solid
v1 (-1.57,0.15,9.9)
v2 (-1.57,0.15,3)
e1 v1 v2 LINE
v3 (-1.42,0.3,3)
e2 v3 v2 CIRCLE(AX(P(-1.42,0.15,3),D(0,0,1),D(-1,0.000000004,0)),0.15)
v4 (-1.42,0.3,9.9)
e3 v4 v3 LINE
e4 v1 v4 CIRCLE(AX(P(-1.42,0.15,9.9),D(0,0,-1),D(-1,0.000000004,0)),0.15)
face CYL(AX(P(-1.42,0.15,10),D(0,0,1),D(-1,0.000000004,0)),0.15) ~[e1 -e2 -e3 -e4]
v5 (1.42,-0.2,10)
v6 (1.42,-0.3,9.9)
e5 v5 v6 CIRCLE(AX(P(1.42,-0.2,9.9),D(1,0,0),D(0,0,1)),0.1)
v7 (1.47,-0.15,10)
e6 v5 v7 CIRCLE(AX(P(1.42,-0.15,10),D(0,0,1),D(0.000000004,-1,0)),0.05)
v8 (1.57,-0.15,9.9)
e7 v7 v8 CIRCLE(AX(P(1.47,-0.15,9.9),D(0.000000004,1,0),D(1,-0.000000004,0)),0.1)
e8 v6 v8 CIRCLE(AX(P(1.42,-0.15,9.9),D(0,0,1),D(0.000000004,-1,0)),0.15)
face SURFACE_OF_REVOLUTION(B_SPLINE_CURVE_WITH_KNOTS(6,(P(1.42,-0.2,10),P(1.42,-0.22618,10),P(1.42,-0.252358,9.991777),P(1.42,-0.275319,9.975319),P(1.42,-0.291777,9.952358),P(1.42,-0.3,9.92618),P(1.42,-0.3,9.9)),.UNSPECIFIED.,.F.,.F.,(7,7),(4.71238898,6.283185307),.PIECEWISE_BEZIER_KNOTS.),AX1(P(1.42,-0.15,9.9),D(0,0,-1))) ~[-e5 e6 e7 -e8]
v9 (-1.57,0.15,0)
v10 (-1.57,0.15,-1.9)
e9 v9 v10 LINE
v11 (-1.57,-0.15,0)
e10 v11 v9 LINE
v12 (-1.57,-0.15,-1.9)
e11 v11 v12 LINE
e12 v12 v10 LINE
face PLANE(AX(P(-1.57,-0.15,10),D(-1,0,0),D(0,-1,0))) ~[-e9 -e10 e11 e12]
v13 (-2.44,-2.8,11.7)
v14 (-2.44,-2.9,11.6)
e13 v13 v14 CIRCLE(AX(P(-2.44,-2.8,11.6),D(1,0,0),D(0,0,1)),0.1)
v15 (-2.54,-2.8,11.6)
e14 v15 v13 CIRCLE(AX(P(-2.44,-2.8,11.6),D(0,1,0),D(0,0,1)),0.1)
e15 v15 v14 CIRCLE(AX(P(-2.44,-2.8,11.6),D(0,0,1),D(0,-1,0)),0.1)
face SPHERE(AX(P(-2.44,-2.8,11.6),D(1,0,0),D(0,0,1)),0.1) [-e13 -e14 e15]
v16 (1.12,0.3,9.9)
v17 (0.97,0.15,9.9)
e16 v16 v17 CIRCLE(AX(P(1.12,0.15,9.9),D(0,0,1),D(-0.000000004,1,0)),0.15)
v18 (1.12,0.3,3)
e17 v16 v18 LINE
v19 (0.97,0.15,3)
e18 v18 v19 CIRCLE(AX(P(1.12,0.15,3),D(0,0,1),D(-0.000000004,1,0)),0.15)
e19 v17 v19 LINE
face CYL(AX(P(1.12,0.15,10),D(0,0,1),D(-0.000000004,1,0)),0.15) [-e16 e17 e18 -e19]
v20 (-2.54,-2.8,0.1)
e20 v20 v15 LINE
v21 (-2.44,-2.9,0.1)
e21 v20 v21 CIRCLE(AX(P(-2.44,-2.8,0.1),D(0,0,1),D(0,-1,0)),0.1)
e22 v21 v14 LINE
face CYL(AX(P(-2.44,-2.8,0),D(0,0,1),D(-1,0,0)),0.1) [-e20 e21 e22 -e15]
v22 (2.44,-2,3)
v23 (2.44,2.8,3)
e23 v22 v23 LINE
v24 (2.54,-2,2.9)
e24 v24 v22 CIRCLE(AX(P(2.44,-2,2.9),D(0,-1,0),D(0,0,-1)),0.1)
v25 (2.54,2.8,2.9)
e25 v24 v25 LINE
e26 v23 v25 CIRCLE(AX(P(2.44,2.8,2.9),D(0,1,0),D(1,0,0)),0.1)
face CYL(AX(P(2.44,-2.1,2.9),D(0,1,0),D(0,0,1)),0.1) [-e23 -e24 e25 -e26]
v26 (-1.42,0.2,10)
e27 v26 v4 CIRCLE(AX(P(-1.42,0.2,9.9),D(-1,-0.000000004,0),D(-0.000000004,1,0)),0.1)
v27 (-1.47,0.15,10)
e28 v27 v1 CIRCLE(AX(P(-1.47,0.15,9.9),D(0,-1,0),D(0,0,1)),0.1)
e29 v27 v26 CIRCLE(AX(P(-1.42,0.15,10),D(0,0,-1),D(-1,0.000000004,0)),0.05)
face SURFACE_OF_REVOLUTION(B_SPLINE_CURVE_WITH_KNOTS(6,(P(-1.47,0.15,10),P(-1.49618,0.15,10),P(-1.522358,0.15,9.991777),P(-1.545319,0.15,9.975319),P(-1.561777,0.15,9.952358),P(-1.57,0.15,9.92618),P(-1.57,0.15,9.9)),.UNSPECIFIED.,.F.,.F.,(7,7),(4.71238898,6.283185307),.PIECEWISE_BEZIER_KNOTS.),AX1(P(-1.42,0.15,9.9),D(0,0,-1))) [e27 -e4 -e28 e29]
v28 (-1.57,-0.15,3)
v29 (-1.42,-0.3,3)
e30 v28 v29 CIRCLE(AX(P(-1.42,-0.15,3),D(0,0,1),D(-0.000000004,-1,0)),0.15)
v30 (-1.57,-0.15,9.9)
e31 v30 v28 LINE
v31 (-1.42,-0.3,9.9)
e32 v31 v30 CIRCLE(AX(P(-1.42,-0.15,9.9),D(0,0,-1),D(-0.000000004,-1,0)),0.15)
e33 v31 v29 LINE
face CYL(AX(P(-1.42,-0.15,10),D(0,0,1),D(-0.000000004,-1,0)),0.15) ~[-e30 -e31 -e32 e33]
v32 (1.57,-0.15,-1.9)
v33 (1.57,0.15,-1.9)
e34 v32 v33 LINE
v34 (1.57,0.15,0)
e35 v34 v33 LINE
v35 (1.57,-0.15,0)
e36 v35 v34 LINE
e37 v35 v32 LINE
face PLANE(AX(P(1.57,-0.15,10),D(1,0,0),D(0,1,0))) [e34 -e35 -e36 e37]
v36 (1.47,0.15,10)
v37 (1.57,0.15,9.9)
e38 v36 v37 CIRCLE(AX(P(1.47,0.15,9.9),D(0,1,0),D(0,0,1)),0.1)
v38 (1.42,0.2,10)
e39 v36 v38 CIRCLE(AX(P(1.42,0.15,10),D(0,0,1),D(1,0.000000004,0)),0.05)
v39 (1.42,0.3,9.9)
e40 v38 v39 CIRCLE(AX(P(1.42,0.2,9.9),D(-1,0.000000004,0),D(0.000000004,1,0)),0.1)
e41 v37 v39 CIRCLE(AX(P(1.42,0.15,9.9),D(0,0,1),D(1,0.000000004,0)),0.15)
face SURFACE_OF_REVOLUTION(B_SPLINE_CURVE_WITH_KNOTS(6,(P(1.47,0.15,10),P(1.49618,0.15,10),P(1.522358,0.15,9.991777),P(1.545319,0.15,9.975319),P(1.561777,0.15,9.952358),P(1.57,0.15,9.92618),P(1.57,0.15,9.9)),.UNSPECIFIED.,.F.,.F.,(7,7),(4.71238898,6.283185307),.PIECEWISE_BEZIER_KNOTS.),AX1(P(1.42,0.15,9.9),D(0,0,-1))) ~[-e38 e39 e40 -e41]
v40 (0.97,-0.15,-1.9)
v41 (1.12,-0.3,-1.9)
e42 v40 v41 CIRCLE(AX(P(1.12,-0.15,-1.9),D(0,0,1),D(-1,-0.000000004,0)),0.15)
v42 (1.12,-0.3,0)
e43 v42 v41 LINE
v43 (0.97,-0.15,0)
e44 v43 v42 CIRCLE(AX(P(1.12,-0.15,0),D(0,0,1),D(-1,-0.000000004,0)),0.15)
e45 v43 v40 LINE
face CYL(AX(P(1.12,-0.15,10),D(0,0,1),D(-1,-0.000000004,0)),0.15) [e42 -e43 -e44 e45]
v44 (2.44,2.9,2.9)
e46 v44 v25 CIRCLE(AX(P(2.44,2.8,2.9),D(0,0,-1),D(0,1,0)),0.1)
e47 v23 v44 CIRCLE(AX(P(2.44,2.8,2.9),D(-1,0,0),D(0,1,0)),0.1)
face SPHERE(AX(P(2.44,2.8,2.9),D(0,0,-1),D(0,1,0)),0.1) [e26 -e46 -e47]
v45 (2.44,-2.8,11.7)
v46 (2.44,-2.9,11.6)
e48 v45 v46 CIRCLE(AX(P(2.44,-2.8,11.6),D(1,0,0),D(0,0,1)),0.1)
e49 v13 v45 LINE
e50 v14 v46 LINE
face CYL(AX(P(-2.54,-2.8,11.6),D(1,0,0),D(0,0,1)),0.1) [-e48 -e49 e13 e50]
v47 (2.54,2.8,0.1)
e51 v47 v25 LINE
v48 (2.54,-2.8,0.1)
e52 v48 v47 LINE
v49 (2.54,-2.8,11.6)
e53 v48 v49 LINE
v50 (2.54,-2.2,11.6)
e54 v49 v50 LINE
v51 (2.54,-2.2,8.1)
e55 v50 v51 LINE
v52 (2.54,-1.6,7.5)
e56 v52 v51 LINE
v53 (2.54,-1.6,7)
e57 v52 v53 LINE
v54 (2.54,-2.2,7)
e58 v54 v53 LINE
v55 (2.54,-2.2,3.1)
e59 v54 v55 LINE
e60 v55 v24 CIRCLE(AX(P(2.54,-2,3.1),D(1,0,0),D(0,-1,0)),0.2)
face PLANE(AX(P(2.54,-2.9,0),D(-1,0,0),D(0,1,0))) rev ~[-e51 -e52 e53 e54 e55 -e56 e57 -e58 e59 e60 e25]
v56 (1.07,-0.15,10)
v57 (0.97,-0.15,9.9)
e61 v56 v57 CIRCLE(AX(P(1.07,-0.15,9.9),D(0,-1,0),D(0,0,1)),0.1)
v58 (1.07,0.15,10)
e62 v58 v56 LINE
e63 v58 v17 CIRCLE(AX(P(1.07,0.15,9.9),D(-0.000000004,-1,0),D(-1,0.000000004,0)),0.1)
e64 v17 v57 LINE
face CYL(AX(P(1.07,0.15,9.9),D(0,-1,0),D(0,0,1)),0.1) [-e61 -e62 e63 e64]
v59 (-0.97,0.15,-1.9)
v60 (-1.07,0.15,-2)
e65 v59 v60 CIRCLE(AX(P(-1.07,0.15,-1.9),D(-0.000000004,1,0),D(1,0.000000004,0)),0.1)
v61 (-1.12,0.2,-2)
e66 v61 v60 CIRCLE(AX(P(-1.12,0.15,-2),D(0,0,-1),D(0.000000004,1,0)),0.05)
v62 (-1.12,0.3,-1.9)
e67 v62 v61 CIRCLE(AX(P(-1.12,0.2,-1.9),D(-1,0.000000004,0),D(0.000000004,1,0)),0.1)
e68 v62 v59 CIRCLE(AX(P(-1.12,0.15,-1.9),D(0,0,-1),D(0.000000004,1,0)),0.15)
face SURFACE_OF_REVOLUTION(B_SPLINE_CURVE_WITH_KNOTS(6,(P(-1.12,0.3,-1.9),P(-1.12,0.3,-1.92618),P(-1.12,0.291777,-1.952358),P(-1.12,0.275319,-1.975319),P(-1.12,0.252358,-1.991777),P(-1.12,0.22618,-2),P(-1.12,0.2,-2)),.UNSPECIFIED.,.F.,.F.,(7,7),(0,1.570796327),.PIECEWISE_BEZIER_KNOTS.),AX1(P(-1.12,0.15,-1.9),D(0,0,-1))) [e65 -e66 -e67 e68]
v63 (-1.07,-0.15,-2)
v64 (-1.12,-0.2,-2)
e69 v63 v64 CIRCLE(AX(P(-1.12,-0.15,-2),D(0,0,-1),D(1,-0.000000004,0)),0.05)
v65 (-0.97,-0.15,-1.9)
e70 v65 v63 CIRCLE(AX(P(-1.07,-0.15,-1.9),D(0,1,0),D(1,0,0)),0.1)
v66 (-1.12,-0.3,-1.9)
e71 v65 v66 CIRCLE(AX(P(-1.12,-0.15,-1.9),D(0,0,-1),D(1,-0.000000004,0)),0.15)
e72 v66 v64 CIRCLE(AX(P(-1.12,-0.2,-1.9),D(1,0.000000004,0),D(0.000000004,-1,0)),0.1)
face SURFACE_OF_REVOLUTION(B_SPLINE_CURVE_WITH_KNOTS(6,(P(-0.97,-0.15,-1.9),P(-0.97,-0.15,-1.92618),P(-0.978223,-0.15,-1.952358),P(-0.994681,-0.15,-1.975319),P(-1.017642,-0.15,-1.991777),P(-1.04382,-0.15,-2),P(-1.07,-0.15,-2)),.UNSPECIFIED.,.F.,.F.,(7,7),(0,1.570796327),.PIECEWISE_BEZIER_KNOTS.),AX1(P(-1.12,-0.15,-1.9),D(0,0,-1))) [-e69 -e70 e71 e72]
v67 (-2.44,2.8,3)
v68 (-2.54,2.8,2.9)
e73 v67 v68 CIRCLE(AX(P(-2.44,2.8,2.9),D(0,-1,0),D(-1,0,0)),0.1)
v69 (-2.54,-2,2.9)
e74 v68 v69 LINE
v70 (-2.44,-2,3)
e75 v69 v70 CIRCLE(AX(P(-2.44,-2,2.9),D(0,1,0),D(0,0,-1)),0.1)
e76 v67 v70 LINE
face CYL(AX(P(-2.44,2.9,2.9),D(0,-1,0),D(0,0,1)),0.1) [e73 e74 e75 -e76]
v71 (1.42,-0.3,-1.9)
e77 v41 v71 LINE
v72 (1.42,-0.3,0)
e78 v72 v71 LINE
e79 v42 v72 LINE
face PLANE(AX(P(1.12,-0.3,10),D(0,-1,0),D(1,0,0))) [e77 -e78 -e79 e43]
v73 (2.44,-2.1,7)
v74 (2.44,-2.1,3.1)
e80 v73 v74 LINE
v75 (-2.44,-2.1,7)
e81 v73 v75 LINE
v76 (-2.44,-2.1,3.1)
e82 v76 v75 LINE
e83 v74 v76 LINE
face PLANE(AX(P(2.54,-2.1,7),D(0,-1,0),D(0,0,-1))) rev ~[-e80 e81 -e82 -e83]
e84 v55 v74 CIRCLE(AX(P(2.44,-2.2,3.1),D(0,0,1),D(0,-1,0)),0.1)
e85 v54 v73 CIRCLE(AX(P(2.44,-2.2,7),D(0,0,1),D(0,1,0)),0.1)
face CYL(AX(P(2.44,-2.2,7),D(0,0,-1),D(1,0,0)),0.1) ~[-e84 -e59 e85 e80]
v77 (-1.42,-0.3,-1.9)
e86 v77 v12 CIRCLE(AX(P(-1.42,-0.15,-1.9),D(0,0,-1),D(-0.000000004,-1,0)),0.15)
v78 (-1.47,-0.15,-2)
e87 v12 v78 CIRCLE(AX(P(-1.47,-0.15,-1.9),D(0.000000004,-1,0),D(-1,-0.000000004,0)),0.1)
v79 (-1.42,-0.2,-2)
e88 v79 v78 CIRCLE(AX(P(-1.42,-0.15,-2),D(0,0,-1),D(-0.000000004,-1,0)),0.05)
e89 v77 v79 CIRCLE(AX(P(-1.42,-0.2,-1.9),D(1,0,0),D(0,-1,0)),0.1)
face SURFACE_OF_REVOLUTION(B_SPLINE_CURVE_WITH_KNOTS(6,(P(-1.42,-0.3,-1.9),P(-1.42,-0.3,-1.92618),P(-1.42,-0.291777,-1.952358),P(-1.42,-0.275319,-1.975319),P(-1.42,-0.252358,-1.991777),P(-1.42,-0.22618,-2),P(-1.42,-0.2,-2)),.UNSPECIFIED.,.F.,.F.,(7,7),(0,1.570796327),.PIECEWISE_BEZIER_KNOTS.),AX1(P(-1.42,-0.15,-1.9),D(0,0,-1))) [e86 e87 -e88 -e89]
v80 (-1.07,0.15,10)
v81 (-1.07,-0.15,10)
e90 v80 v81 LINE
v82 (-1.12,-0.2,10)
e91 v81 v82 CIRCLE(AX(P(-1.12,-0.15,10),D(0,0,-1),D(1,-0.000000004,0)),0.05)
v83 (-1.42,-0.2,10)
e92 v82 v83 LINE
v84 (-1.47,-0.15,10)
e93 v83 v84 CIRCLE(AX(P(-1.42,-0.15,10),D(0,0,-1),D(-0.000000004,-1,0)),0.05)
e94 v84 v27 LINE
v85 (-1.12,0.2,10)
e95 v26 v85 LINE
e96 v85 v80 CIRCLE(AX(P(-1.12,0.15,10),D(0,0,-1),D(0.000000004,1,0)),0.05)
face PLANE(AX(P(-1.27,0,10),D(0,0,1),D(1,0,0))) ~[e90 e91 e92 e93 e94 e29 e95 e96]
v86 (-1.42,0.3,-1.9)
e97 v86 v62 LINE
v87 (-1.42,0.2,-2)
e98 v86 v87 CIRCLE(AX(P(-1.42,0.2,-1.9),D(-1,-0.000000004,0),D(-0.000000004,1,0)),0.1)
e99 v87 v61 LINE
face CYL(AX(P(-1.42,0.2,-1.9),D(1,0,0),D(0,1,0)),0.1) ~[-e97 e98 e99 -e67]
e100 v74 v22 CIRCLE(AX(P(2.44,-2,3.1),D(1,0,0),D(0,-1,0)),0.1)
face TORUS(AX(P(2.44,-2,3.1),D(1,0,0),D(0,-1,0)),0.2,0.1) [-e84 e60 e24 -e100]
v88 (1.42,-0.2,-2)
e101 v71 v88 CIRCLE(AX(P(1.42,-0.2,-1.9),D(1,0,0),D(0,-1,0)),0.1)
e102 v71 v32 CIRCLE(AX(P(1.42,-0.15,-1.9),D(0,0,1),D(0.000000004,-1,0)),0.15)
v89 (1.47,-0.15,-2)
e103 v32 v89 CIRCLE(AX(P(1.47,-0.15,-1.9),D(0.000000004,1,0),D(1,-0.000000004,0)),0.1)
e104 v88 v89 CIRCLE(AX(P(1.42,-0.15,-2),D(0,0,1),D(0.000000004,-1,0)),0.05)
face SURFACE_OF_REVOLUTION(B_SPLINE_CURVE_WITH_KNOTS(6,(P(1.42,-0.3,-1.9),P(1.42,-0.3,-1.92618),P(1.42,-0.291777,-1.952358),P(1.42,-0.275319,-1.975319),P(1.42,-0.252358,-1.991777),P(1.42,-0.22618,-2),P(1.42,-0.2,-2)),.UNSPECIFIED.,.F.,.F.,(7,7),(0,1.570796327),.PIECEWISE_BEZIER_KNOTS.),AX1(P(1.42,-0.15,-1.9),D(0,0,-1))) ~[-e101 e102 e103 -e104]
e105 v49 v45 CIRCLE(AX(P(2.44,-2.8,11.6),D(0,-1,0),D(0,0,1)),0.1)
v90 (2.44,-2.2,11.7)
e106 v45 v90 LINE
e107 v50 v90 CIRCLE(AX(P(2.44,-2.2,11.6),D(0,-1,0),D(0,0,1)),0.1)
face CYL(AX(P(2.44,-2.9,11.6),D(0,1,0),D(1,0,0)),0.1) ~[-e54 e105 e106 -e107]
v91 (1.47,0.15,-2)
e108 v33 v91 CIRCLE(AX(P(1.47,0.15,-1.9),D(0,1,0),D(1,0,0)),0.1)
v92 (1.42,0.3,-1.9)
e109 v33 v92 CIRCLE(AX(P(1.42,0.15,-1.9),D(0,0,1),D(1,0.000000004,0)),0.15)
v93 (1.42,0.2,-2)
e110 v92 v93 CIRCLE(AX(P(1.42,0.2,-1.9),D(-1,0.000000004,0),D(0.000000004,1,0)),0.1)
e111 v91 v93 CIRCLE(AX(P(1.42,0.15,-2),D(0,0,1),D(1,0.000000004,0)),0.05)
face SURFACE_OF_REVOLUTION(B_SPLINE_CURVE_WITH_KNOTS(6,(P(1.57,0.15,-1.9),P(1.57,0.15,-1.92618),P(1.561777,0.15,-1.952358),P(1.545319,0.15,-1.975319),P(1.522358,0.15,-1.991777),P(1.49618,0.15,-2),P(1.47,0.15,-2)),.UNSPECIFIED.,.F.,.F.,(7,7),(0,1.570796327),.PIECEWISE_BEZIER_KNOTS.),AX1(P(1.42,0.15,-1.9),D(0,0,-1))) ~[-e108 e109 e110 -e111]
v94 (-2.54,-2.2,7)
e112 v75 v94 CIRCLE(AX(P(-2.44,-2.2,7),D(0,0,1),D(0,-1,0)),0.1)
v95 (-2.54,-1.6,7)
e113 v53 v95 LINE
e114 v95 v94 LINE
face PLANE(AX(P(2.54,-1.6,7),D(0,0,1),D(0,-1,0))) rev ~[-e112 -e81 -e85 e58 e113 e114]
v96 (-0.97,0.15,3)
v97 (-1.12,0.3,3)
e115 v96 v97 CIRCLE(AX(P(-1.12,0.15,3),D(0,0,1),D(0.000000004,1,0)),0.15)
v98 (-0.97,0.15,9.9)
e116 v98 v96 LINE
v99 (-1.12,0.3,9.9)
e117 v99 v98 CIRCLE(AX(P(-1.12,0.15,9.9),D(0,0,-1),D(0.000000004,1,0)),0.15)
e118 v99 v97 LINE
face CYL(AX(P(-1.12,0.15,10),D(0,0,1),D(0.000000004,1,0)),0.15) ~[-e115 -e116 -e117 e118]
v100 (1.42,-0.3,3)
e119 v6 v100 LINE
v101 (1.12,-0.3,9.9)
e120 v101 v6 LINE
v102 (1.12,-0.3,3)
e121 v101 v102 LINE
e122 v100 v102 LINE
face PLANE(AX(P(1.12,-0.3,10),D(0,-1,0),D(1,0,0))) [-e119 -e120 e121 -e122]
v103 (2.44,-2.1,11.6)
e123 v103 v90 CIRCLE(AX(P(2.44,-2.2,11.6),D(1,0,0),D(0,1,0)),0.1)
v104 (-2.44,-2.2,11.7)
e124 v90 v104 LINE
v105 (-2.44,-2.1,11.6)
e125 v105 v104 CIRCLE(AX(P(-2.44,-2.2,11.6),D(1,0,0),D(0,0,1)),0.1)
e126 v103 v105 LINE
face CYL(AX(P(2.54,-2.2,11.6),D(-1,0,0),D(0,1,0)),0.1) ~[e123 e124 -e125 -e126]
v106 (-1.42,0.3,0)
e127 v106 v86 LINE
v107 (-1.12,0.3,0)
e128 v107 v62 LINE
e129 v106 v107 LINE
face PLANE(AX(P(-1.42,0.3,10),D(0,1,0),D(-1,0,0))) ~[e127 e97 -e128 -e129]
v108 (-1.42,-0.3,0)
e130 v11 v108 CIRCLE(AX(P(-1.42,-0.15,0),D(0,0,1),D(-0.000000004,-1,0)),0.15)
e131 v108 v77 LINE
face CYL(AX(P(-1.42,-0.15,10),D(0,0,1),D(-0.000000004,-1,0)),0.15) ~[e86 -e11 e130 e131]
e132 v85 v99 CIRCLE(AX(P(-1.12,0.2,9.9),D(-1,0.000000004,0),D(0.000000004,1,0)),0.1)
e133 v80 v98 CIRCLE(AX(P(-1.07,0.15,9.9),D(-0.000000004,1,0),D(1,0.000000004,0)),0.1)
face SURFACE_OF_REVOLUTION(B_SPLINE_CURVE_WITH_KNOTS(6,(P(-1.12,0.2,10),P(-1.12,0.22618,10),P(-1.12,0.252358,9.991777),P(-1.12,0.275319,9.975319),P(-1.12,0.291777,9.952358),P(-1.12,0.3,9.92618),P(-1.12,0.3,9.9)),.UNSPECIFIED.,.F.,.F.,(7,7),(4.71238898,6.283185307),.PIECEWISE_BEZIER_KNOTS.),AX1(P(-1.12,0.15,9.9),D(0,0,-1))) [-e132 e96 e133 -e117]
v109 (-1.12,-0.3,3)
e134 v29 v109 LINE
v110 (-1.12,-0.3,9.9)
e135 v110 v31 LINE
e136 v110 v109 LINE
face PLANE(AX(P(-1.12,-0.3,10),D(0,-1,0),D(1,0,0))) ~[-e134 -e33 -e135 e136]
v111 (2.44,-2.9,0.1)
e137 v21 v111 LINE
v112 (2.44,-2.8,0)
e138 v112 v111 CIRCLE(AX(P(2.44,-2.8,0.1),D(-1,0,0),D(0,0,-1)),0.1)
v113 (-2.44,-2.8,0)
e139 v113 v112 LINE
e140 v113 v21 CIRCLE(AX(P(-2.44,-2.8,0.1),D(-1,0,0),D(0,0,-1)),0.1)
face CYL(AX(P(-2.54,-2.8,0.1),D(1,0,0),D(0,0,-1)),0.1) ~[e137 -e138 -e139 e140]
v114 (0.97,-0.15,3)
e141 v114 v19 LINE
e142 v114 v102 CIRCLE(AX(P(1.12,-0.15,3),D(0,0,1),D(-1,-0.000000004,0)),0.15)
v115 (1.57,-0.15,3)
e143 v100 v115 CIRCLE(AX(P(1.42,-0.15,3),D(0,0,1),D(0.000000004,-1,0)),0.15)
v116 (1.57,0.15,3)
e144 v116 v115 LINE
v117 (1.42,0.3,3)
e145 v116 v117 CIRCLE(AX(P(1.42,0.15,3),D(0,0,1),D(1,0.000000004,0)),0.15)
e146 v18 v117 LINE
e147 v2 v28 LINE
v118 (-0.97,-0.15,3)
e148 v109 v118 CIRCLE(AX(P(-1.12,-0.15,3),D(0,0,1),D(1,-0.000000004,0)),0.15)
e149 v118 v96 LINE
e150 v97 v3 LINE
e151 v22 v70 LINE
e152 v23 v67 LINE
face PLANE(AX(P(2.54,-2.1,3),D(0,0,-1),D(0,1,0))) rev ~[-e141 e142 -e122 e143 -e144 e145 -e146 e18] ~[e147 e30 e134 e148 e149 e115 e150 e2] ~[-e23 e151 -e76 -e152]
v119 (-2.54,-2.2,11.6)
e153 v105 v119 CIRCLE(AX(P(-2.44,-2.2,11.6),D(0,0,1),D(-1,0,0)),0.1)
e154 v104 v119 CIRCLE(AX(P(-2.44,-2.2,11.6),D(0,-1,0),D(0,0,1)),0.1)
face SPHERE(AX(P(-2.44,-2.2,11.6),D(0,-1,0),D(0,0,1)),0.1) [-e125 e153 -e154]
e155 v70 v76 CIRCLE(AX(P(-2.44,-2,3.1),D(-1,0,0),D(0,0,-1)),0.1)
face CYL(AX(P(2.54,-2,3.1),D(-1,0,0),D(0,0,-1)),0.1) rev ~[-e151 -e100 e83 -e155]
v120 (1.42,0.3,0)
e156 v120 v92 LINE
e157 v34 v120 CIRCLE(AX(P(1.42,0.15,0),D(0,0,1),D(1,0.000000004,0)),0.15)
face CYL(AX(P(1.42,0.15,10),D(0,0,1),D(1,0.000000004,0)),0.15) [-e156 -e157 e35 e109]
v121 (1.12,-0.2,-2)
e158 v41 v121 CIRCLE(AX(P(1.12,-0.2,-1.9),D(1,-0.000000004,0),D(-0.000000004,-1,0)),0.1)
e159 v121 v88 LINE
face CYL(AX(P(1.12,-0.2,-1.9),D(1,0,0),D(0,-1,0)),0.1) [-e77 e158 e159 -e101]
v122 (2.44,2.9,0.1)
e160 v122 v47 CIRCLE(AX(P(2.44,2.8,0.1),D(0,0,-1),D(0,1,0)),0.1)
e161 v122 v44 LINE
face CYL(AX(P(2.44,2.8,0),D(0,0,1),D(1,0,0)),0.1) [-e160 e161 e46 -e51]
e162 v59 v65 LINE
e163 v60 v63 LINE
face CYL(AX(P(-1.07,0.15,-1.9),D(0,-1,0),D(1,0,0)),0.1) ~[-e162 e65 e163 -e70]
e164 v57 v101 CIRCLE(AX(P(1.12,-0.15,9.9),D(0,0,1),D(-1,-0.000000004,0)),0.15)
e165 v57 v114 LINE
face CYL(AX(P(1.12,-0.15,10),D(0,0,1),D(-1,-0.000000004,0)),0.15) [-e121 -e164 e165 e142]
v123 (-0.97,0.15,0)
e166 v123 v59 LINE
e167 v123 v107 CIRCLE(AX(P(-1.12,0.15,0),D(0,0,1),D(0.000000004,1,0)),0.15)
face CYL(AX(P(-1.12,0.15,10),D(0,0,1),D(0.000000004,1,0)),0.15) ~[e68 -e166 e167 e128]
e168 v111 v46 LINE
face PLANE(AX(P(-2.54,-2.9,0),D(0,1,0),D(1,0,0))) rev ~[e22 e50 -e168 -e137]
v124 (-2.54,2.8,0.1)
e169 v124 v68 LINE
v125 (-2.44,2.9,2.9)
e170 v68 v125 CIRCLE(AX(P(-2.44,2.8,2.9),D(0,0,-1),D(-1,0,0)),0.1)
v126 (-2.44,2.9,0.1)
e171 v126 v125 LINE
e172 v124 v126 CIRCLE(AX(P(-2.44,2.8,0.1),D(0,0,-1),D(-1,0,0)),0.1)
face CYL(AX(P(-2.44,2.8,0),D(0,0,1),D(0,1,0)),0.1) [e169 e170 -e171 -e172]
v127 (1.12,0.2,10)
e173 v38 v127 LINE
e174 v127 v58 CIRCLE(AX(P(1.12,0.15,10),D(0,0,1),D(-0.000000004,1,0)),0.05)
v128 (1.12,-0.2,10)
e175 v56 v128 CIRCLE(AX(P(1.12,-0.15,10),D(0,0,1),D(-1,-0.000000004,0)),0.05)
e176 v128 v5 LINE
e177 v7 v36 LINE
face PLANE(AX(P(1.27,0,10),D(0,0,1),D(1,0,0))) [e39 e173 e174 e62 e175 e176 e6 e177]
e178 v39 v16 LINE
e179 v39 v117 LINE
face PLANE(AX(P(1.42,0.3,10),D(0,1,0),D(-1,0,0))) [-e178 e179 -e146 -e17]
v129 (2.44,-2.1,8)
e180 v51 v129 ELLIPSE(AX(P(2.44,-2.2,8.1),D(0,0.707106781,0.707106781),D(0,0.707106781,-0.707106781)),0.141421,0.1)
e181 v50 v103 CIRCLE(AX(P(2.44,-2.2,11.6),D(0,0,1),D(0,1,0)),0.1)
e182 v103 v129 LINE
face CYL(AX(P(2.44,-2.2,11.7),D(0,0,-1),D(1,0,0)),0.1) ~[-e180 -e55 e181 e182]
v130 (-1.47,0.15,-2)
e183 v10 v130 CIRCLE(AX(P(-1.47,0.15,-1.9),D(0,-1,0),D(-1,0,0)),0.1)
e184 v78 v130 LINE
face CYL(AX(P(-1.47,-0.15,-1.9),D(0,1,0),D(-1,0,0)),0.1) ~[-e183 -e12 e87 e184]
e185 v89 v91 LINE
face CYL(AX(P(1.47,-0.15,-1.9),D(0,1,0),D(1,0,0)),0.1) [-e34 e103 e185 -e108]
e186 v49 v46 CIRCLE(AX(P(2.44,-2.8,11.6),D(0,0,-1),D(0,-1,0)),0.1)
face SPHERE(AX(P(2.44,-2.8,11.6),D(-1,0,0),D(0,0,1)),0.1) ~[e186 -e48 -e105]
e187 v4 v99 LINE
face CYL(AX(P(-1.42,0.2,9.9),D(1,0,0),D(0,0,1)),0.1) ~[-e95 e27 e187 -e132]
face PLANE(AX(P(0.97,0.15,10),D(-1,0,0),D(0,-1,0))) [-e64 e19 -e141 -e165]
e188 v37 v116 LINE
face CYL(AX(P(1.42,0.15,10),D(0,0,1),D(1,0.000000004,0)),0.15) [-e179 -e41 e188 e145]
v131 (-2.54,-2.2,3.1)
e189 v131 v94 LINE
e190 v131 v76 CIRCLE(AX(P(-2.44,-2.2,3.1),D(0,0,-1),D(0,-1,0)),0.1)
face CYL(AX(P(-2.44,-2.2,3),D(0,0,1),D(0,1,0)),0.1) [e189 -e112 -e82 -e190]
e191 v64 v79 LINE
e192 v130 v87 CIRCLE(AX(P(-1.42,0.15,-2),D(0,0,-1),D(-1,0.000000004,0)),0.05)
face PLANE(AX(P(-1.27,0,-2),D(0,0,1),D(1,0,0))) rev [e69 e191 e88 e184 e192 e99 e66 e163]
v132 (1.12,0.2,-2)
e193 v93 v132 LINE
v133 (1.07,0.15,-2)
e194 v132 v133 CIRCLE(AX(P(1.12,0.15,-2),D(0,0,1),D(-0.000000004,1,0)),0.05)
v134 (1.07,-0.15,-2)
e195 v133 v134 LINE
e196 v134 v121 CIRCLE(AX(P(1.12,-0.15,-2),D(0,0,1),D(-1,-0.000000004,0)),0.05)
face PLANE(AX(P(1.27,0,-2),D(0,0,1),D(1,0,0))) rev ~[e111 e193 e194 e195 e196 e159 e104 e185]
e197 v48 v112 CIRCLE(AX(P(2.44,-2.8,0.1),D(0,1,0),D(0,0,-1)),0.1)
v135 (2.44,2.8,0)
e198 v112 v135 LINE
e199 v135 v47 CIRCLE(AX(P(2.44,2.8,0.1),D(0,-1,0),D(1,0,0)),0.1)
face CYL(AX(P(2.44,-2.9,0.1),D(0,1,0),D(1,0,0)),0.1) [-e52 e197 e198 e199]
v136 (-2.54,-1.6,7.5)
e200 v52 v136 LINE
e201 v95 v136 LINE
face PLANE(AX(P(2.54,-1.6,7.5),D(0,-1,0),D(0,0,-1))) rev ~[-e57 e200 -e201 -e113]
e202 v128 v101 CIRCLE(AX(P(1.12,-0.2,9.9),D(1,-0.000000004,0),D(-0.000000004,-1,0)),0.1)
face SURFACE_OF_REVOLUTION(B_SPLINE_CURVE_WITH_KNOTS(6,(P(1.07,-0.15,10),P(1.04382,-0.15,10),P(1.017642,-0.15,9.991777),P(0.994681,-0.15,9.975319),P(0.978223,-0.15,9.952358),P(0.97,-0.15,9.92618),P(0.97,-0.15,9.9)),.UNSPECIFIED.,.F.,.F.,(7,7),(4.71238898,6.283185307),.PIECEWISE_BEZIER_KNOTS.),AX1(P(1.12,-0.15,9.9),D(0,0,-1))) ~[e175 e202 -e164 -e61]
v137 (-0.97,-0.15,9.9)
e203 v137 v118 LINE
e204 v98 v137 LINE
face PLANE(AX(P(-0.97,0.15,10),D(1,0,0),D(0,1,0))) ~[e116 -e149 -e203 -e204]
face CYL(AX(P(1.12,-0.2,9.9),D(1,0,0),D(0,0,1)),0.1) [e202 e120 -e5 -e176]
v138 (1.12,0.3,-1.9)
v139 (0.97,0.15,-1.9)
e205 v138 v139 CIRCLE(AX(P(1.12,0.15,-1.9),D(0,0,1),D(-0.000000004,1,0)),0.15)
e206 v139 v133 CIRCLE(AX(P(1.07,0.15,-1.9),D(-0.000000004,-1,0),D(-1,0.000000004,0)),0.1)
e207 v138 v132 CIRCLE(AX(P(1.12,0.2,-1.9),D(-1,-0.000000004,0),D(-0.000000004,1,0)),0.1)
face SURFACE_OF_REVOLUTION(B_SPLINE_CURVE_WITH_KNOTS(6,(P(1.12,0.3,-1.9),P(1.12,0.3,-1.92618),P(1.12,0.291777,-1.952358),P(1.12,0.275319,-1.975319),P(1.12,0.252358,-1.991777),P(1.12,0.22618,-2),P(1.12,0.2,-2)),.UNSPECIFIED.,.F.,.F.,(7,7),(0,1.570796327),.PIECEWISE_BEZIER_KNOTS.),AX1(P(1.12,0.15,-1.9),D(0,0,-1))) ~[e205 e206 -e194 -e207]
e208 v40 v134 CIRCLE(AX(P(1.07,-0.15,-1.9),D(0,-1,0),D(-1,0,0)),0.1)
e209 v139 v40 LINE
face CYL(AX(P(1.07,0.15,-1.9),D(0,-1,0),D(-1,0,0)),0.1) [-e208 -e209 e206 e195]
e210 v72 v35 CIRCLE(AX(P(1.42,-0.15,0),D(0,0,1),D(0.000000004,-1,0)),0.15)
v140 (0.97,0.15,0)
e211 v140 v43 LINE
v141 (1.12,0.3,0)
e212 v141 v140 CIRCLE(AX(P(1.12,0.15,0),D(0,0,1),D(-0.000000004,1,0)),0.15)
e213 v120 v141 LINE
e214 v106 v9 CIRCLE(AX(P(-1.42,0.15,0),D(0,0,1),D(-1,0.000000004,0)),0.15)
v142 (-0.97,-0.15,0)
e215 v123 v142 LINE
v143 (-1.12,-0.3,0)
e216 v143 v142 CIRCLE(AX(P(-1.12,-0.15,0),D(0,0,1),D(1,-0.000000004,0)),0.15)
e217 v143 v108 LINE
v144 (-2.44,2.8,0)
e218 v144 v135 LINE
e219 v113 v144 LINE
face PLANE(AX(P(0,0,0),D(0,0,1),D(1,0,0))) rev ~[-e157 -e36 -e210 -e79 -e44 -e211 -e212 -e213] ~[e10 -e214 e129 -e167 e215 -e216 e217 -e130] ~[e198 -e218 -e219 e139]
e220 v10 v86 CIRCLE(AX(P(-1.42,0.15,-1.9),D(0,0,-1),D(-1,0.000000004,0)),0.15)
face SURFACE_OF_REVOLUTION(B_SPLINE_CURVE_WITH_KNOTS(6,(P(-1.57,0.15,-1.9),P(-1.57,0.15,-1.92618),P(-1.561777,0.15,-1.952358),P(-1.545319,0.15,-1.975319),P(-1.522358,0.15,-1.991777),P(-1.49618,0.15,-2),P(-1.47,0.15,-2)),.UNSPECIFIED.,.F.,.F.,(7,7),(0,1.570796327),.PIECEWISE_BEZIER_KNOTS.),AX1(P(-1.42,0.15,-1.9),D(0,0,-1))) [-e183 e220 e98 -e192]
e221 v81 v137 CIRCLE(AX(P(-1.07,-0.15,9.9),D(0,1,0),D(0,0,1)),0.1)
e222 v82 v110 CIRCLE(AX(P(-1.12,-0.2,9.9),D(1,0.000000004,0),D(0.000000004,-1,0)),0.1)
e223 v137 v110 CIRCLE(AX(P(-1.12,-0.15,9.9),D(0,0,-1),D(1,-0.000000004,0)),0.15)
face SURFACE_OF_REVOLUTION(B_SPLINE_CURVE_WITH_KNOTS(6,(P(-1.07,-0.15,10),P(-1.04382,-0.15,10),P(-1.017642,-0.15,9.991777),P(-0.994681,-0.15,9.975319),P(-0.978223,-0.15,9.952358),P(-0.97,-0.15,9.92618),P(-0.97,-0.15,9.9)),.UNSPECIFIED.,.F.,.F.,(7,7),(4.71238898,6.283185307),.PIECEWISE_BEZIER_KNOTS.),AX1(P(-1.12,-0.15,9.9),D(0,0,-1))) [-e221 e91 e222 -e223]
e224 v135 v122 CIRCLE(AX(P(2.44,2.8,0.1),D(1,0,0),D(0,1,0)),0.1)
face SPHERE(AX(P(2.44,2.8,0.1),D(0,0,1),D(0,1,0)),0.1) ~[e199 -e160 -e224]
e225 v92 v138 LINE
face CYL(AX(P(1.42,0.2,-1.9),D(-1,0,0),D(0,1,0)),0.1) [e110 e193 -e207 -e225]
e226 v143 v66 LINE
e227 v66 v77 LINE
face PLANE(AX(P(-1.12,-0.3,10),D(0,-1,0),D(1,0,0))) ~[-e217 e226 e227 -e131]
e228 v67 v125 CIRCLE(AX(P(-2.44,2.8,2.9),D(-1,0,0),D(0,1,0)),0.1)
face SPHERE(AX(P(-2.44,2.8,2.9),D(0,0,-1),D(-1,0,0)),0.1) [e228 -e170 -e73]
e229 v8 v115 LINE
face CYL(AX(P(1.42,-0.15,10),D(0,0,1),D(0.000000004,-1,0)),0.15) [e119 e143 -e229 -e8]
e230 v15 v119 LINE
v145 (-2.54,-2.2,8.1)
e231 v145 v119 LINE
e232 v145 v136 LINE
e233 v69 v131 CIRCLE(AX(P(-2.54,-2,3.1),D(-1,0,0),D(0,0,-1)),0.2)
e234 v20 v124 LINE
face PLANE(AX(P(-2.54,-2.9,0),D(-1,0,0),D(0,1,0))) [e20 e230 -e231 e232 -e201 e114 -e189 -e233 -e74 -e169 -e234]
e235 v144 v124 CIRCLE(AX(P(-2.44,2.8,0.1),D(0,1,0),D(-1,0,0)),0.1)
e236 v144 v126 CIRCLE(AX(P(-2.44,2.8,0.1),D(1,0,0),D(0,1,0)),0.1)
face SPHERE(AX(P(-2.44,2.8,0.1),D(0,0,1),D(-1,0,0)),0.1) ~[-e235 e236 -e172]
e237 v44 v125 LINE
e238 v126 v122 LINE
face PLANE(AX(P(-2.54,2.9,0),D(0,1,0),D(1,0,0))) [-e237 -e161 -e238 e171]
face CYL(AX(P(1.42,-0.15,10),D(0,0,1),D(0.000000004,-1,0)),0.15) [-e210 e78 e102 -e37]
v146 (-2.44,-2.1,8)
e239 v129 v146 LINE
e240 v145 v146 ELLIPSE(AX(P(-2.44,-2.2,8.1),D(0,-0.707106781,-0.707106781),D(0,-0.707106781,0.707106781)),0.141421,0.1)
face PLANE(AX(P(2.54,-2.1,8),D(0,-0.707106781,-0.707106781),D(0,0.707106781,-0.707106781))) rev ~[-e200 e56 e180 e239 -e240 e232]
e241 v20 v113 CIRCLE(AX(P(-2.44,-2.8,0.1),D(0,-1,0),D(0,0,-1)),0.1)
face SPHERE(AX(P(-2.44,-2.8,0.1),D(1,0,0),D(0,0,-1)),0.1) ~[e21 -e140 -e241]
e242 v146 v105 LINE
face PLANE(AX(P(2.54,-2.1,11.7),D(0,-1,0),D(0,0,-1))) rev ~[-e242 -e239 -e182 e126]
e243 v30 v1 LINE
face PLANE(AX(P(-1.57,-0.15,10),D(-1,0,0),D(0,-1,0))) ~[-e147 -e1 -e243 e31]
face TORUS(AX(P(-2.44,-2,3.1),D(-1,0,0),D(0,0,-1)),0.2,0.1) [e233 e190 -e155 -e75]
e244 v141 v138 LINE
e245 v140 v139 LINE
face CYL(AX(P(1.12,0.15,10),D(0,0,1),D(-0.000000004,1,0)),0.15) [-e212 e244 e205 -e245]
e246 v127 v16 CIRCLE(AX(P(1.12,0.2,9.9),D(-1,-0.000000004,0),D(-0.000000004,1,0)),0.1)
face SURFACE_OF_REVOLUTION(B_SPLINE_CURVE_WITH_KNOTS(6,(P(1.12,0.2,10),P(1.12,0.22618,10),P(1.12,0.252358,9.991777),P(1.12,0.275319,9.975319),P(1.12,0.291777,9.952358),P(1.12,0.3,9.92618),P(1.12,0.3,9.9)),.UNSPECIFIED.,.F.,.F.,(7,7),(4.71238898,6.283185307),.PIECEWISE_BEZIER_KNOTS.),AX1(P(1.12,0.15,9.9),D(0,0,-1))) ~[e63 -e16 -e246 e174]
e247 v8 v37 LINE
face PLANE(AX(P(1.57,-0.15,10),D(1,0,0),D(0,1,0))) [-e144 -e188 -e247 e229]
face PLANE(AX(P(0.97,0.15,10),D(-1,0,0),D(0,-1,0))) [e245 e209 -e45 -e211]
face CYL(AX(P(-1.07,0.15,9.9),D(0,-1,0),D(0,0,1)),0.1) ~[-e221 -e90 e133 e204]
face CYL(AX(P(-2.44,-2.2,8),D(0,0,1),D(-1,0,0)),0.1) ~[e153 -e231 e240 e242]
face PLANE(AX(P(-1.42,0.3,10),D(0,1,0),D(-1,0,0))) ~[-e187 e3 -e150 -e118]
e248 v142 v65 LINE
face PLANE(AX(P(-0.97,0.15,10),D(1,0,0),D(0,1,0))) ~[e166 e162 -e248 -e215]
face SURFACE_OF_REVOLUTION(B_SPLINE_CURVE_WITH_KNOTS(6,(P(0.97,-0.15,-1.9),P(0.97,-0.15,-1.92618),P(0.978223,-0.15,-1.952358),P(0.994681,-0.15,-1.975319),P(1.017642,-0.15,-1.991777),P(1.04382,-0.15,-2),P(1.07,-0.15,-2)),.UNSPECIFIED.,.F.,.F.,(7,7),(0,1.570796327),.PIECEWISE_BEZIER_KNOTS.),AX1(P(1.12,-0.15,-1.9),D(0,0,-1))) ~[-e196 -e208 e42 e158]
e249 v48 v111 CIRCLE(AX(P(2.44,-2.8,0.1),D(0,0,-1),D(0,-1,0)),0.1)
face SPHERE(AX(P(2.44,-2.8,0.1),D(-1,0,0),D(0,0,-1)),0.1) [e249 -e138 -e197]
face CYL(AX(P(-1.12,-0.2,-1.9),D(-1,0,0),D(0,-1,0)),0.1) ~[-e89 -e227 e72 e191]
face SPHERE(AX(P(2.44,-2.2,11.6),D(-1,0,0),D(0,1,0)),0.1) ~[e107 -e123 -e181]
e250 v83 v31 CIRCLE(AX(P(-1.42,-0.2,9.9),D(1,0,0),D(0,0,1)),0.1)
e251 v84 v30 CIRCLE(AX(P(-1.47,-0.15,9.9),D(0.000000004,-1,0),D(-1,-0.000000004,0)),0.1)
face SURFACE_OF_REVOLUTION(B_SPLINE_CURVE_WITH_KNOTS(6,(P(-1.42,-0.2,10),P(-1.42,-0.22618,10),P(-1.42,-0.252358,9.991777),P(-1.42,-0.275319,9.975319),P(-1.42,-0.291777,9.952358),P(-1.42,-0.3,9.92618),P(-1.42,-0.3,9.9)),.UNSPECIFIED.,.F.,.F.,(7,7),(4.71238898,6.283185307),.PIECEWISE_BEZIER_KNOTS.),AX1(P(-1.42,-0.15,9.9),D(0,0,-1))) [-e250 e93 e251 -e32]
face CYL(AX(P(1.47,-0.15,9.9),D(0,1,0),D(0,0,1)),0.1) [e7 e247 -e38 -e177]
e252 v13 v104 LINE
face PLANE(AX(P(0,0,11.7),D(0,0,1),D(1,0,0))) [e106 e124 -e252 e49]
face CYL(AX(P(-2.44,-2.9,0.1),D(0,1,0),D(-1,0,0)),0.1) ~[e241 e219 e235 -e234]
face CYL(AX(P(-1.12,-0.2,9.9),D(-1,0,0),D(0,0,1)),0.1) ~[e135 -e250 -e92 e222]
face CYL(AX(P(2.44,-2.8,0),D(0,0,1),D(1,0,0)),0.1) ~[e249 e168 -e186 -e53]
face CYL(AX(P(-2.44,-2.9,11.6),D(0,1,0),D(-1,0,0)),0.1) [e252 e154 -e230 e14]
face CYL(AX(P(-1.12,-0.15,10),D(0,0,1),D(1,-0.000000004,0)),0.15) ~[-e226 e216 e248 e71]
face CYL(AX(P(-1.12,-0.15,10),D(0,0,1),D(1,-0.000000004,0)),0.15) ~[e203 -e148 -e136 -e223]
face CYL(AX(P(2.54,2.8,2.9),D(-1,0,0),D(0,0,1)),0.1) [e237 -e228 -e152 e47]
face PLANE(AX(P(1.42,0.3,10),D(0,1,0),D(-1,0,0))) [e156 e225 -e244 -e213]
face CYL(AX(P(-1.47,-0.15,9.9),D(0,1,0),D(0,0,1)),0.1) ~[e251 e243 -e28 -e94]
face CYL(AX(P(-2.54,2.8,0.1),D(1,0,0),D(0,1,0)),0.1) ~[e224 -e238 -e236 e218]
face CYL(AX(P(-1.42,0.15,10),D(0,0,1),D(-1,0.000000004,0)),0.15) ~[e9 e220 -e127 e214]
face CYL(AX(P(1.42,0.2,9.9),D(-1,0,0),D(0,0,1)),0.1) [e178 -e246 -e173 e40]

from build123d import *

# Parameters (mm, degrees)
SKETCH_1_W             = 5.08
SKETCH_1_H             = 5.8
EXTRUDE_1_DEPTH        = 11.7
CUT_EXTRUDE_1_DEPTH    = 14.080764504
EXTRUDE_START          = -10
EXTRUDE_2_DEPTH        = 12
FILLET_1_R             = 0.1
FILLET_2_R             = 0.1
FILLET_1_OF_MIRROR_2_R = 0.1


with BuildPart() as part:
    # 草图1 → 凸台-拉伸1 (new body)
    with BuildSketch(Plane.XY):
        Rectangle(SKETCH_1_W, SKETCH_1_H)
    extrude(amount=EXTRUDE_1_DEPTH)

    # 草图2 → 切除-拉伸1 (cut, through all)
    with BuildSketch(Plane(origin=(2.54, 0, 0), x_dir=(0, 0, -1), z_dir=(1, 0, 0))):
        Polygon((-11.7, -2.1), (-8, -2.1), (-7.5, -1.6), (-7, -1.6), (-7, -2.1), (-3, -2.1), (-3, 2.9), (-11.7, 2.9), align=None)
    extrude(amount=-CUT_EXTRUDE_1_DEPTH, mode=Mode.SUBTRACT)

    # 草图3 → 凸台-拉伸2 (add)
    with BuildSketch(Plane(origin=(0, 0, 0), x_dir=(-1, 0, 0), z_dir=(0, 0, -1)).offset(EXTRUDE_START)):
        with BuildLine():
            Line((-1.57, -0.15), (-1.57, 0.15))
            ThreePointArc((-1.57, 0.15), (-1.526066017, 0.256066017), (-1.42, 0.3))
            Line((-1.42, 0.3), (-1.12, 0.3))
            ThreePointArc((-1.12, 0.3), (-1.013933983, 0.256066017), (-0.97, 0.15))
            Line((-0.97, 0.15), (-0.97, -0.15))
            ThreePointArc((-0.97, -0.15), (-1.013933983, -0.256066017), (-1.12, -0.3))
            Line((-1.12, -0.3), (-1.42, -0.3))
            ThreePointArc((-1.42, -0.3), (-1.526066017, -0.256066017), (-1.57, -0.15))
        make_face()
    extrude_2 = extrude(amount=EXTRUDE_2_DEPTH)

    # 圆角1
    fillet_1_edges = [part.edges().sort_by_distance(p)[0] for p in [
        (1.013933983, 0.256066017, 10),
        (0.97, 0, 10),
        (1.013933983, -0.256066017, 10),
        (1.27, -0.3, 10),
        (1.526066017, -0.256066017, 10),
        (1.57, 0, 10),
        (1.526066017, 0.256066017, 10),
        (1.27, 0.3, 10),
        (1.013933983, 0.256066017, -2),
        (1.27, 0.3, -2),
        (1.526066017, 0.256066017, -2),
        (1.57, 0, -2),
        (1.526066017, -0.256066017, -2),
        (1.27, -0.3, -2),
        (1.013933983, -0.256066017, -2),
        (0.97, 0, -2),
    ]]
    fillet(fillet_1_edges, radius=FILLET_1_R)

    # 圆角2
    fillet_2_edges = [part.edges().sort_by_distance(p)[0] for p in [
        (0, -2.9, 11.7),
        (-2.54, -2.5, 11.7),
        (-2.54, 2.9, 1.5),
        (2.54, 2.9, 1.5),
        (0, -2.1, 11.7),
        (-2.54, 0.4, 3),
        (0, 2.9, 3),
        (-2.54, -2.1, 5),
        (0, -2.1, 3),
        (-2.54, -2.1, 9.85),
        (2.54, -2.1, 9.85),
        (2.54, -2.1, 5),
        (2.54, 0.4, 3),
        (2.54, -2.5, 11.7),
        (0, -2.9, 0),
        (-2.54, 0, 0),
        (0, 2.9, 0),
        (2.54, 0, 0),
        (2.54, -2.9, 5.85),
        (-2.54, -2.9, 5.85),
    ]]
    fillet(fillet_2_edges, radius=FILLET_2_R)

    # 镜向2: 凸台-拉伸2 across plane
    add(extrude_2.mirror(Plane(origin=(0, 0, 0), x_dir=(0, 0, 1), z_dir=(1, 0, 0))))

    # 圆角1 of 镜向2
    fillet_1_of_mirror_2_edges = [part.edges().sort_by_distance(p)[0] for p in [
        (-1.013933983, 0.256066017, 10),
        (-0.97, 0, 10),
        (-1.013933983, -0.256066017, 10),
        (-1.27, -0.3, 10),
        (-1.526066017, -0.256066017, 10),
        (-1.57, 0, 10),
        (-1.526066017, 0.256066017, 10),
        (-1.27, 0.3, 10),
        (-1.013933983, 0.256066017, -2),
        (-1.27, 0.3, -2),
        (-1.526066017, 0.256066017, -2),
        (-1.57, 0, -2),
        (-1.526066017, -0.256066017, -2),
        (-1.27, -0.3, -2),
        (-1.013933983, -0.256066017, -2),
        (-0.97, 0, -2),
    ]]
    fillet(fillet_1_of_mirror_2_edges, radius=FILLET_1_OF_MIRROR_2_R)


solid = part.part
